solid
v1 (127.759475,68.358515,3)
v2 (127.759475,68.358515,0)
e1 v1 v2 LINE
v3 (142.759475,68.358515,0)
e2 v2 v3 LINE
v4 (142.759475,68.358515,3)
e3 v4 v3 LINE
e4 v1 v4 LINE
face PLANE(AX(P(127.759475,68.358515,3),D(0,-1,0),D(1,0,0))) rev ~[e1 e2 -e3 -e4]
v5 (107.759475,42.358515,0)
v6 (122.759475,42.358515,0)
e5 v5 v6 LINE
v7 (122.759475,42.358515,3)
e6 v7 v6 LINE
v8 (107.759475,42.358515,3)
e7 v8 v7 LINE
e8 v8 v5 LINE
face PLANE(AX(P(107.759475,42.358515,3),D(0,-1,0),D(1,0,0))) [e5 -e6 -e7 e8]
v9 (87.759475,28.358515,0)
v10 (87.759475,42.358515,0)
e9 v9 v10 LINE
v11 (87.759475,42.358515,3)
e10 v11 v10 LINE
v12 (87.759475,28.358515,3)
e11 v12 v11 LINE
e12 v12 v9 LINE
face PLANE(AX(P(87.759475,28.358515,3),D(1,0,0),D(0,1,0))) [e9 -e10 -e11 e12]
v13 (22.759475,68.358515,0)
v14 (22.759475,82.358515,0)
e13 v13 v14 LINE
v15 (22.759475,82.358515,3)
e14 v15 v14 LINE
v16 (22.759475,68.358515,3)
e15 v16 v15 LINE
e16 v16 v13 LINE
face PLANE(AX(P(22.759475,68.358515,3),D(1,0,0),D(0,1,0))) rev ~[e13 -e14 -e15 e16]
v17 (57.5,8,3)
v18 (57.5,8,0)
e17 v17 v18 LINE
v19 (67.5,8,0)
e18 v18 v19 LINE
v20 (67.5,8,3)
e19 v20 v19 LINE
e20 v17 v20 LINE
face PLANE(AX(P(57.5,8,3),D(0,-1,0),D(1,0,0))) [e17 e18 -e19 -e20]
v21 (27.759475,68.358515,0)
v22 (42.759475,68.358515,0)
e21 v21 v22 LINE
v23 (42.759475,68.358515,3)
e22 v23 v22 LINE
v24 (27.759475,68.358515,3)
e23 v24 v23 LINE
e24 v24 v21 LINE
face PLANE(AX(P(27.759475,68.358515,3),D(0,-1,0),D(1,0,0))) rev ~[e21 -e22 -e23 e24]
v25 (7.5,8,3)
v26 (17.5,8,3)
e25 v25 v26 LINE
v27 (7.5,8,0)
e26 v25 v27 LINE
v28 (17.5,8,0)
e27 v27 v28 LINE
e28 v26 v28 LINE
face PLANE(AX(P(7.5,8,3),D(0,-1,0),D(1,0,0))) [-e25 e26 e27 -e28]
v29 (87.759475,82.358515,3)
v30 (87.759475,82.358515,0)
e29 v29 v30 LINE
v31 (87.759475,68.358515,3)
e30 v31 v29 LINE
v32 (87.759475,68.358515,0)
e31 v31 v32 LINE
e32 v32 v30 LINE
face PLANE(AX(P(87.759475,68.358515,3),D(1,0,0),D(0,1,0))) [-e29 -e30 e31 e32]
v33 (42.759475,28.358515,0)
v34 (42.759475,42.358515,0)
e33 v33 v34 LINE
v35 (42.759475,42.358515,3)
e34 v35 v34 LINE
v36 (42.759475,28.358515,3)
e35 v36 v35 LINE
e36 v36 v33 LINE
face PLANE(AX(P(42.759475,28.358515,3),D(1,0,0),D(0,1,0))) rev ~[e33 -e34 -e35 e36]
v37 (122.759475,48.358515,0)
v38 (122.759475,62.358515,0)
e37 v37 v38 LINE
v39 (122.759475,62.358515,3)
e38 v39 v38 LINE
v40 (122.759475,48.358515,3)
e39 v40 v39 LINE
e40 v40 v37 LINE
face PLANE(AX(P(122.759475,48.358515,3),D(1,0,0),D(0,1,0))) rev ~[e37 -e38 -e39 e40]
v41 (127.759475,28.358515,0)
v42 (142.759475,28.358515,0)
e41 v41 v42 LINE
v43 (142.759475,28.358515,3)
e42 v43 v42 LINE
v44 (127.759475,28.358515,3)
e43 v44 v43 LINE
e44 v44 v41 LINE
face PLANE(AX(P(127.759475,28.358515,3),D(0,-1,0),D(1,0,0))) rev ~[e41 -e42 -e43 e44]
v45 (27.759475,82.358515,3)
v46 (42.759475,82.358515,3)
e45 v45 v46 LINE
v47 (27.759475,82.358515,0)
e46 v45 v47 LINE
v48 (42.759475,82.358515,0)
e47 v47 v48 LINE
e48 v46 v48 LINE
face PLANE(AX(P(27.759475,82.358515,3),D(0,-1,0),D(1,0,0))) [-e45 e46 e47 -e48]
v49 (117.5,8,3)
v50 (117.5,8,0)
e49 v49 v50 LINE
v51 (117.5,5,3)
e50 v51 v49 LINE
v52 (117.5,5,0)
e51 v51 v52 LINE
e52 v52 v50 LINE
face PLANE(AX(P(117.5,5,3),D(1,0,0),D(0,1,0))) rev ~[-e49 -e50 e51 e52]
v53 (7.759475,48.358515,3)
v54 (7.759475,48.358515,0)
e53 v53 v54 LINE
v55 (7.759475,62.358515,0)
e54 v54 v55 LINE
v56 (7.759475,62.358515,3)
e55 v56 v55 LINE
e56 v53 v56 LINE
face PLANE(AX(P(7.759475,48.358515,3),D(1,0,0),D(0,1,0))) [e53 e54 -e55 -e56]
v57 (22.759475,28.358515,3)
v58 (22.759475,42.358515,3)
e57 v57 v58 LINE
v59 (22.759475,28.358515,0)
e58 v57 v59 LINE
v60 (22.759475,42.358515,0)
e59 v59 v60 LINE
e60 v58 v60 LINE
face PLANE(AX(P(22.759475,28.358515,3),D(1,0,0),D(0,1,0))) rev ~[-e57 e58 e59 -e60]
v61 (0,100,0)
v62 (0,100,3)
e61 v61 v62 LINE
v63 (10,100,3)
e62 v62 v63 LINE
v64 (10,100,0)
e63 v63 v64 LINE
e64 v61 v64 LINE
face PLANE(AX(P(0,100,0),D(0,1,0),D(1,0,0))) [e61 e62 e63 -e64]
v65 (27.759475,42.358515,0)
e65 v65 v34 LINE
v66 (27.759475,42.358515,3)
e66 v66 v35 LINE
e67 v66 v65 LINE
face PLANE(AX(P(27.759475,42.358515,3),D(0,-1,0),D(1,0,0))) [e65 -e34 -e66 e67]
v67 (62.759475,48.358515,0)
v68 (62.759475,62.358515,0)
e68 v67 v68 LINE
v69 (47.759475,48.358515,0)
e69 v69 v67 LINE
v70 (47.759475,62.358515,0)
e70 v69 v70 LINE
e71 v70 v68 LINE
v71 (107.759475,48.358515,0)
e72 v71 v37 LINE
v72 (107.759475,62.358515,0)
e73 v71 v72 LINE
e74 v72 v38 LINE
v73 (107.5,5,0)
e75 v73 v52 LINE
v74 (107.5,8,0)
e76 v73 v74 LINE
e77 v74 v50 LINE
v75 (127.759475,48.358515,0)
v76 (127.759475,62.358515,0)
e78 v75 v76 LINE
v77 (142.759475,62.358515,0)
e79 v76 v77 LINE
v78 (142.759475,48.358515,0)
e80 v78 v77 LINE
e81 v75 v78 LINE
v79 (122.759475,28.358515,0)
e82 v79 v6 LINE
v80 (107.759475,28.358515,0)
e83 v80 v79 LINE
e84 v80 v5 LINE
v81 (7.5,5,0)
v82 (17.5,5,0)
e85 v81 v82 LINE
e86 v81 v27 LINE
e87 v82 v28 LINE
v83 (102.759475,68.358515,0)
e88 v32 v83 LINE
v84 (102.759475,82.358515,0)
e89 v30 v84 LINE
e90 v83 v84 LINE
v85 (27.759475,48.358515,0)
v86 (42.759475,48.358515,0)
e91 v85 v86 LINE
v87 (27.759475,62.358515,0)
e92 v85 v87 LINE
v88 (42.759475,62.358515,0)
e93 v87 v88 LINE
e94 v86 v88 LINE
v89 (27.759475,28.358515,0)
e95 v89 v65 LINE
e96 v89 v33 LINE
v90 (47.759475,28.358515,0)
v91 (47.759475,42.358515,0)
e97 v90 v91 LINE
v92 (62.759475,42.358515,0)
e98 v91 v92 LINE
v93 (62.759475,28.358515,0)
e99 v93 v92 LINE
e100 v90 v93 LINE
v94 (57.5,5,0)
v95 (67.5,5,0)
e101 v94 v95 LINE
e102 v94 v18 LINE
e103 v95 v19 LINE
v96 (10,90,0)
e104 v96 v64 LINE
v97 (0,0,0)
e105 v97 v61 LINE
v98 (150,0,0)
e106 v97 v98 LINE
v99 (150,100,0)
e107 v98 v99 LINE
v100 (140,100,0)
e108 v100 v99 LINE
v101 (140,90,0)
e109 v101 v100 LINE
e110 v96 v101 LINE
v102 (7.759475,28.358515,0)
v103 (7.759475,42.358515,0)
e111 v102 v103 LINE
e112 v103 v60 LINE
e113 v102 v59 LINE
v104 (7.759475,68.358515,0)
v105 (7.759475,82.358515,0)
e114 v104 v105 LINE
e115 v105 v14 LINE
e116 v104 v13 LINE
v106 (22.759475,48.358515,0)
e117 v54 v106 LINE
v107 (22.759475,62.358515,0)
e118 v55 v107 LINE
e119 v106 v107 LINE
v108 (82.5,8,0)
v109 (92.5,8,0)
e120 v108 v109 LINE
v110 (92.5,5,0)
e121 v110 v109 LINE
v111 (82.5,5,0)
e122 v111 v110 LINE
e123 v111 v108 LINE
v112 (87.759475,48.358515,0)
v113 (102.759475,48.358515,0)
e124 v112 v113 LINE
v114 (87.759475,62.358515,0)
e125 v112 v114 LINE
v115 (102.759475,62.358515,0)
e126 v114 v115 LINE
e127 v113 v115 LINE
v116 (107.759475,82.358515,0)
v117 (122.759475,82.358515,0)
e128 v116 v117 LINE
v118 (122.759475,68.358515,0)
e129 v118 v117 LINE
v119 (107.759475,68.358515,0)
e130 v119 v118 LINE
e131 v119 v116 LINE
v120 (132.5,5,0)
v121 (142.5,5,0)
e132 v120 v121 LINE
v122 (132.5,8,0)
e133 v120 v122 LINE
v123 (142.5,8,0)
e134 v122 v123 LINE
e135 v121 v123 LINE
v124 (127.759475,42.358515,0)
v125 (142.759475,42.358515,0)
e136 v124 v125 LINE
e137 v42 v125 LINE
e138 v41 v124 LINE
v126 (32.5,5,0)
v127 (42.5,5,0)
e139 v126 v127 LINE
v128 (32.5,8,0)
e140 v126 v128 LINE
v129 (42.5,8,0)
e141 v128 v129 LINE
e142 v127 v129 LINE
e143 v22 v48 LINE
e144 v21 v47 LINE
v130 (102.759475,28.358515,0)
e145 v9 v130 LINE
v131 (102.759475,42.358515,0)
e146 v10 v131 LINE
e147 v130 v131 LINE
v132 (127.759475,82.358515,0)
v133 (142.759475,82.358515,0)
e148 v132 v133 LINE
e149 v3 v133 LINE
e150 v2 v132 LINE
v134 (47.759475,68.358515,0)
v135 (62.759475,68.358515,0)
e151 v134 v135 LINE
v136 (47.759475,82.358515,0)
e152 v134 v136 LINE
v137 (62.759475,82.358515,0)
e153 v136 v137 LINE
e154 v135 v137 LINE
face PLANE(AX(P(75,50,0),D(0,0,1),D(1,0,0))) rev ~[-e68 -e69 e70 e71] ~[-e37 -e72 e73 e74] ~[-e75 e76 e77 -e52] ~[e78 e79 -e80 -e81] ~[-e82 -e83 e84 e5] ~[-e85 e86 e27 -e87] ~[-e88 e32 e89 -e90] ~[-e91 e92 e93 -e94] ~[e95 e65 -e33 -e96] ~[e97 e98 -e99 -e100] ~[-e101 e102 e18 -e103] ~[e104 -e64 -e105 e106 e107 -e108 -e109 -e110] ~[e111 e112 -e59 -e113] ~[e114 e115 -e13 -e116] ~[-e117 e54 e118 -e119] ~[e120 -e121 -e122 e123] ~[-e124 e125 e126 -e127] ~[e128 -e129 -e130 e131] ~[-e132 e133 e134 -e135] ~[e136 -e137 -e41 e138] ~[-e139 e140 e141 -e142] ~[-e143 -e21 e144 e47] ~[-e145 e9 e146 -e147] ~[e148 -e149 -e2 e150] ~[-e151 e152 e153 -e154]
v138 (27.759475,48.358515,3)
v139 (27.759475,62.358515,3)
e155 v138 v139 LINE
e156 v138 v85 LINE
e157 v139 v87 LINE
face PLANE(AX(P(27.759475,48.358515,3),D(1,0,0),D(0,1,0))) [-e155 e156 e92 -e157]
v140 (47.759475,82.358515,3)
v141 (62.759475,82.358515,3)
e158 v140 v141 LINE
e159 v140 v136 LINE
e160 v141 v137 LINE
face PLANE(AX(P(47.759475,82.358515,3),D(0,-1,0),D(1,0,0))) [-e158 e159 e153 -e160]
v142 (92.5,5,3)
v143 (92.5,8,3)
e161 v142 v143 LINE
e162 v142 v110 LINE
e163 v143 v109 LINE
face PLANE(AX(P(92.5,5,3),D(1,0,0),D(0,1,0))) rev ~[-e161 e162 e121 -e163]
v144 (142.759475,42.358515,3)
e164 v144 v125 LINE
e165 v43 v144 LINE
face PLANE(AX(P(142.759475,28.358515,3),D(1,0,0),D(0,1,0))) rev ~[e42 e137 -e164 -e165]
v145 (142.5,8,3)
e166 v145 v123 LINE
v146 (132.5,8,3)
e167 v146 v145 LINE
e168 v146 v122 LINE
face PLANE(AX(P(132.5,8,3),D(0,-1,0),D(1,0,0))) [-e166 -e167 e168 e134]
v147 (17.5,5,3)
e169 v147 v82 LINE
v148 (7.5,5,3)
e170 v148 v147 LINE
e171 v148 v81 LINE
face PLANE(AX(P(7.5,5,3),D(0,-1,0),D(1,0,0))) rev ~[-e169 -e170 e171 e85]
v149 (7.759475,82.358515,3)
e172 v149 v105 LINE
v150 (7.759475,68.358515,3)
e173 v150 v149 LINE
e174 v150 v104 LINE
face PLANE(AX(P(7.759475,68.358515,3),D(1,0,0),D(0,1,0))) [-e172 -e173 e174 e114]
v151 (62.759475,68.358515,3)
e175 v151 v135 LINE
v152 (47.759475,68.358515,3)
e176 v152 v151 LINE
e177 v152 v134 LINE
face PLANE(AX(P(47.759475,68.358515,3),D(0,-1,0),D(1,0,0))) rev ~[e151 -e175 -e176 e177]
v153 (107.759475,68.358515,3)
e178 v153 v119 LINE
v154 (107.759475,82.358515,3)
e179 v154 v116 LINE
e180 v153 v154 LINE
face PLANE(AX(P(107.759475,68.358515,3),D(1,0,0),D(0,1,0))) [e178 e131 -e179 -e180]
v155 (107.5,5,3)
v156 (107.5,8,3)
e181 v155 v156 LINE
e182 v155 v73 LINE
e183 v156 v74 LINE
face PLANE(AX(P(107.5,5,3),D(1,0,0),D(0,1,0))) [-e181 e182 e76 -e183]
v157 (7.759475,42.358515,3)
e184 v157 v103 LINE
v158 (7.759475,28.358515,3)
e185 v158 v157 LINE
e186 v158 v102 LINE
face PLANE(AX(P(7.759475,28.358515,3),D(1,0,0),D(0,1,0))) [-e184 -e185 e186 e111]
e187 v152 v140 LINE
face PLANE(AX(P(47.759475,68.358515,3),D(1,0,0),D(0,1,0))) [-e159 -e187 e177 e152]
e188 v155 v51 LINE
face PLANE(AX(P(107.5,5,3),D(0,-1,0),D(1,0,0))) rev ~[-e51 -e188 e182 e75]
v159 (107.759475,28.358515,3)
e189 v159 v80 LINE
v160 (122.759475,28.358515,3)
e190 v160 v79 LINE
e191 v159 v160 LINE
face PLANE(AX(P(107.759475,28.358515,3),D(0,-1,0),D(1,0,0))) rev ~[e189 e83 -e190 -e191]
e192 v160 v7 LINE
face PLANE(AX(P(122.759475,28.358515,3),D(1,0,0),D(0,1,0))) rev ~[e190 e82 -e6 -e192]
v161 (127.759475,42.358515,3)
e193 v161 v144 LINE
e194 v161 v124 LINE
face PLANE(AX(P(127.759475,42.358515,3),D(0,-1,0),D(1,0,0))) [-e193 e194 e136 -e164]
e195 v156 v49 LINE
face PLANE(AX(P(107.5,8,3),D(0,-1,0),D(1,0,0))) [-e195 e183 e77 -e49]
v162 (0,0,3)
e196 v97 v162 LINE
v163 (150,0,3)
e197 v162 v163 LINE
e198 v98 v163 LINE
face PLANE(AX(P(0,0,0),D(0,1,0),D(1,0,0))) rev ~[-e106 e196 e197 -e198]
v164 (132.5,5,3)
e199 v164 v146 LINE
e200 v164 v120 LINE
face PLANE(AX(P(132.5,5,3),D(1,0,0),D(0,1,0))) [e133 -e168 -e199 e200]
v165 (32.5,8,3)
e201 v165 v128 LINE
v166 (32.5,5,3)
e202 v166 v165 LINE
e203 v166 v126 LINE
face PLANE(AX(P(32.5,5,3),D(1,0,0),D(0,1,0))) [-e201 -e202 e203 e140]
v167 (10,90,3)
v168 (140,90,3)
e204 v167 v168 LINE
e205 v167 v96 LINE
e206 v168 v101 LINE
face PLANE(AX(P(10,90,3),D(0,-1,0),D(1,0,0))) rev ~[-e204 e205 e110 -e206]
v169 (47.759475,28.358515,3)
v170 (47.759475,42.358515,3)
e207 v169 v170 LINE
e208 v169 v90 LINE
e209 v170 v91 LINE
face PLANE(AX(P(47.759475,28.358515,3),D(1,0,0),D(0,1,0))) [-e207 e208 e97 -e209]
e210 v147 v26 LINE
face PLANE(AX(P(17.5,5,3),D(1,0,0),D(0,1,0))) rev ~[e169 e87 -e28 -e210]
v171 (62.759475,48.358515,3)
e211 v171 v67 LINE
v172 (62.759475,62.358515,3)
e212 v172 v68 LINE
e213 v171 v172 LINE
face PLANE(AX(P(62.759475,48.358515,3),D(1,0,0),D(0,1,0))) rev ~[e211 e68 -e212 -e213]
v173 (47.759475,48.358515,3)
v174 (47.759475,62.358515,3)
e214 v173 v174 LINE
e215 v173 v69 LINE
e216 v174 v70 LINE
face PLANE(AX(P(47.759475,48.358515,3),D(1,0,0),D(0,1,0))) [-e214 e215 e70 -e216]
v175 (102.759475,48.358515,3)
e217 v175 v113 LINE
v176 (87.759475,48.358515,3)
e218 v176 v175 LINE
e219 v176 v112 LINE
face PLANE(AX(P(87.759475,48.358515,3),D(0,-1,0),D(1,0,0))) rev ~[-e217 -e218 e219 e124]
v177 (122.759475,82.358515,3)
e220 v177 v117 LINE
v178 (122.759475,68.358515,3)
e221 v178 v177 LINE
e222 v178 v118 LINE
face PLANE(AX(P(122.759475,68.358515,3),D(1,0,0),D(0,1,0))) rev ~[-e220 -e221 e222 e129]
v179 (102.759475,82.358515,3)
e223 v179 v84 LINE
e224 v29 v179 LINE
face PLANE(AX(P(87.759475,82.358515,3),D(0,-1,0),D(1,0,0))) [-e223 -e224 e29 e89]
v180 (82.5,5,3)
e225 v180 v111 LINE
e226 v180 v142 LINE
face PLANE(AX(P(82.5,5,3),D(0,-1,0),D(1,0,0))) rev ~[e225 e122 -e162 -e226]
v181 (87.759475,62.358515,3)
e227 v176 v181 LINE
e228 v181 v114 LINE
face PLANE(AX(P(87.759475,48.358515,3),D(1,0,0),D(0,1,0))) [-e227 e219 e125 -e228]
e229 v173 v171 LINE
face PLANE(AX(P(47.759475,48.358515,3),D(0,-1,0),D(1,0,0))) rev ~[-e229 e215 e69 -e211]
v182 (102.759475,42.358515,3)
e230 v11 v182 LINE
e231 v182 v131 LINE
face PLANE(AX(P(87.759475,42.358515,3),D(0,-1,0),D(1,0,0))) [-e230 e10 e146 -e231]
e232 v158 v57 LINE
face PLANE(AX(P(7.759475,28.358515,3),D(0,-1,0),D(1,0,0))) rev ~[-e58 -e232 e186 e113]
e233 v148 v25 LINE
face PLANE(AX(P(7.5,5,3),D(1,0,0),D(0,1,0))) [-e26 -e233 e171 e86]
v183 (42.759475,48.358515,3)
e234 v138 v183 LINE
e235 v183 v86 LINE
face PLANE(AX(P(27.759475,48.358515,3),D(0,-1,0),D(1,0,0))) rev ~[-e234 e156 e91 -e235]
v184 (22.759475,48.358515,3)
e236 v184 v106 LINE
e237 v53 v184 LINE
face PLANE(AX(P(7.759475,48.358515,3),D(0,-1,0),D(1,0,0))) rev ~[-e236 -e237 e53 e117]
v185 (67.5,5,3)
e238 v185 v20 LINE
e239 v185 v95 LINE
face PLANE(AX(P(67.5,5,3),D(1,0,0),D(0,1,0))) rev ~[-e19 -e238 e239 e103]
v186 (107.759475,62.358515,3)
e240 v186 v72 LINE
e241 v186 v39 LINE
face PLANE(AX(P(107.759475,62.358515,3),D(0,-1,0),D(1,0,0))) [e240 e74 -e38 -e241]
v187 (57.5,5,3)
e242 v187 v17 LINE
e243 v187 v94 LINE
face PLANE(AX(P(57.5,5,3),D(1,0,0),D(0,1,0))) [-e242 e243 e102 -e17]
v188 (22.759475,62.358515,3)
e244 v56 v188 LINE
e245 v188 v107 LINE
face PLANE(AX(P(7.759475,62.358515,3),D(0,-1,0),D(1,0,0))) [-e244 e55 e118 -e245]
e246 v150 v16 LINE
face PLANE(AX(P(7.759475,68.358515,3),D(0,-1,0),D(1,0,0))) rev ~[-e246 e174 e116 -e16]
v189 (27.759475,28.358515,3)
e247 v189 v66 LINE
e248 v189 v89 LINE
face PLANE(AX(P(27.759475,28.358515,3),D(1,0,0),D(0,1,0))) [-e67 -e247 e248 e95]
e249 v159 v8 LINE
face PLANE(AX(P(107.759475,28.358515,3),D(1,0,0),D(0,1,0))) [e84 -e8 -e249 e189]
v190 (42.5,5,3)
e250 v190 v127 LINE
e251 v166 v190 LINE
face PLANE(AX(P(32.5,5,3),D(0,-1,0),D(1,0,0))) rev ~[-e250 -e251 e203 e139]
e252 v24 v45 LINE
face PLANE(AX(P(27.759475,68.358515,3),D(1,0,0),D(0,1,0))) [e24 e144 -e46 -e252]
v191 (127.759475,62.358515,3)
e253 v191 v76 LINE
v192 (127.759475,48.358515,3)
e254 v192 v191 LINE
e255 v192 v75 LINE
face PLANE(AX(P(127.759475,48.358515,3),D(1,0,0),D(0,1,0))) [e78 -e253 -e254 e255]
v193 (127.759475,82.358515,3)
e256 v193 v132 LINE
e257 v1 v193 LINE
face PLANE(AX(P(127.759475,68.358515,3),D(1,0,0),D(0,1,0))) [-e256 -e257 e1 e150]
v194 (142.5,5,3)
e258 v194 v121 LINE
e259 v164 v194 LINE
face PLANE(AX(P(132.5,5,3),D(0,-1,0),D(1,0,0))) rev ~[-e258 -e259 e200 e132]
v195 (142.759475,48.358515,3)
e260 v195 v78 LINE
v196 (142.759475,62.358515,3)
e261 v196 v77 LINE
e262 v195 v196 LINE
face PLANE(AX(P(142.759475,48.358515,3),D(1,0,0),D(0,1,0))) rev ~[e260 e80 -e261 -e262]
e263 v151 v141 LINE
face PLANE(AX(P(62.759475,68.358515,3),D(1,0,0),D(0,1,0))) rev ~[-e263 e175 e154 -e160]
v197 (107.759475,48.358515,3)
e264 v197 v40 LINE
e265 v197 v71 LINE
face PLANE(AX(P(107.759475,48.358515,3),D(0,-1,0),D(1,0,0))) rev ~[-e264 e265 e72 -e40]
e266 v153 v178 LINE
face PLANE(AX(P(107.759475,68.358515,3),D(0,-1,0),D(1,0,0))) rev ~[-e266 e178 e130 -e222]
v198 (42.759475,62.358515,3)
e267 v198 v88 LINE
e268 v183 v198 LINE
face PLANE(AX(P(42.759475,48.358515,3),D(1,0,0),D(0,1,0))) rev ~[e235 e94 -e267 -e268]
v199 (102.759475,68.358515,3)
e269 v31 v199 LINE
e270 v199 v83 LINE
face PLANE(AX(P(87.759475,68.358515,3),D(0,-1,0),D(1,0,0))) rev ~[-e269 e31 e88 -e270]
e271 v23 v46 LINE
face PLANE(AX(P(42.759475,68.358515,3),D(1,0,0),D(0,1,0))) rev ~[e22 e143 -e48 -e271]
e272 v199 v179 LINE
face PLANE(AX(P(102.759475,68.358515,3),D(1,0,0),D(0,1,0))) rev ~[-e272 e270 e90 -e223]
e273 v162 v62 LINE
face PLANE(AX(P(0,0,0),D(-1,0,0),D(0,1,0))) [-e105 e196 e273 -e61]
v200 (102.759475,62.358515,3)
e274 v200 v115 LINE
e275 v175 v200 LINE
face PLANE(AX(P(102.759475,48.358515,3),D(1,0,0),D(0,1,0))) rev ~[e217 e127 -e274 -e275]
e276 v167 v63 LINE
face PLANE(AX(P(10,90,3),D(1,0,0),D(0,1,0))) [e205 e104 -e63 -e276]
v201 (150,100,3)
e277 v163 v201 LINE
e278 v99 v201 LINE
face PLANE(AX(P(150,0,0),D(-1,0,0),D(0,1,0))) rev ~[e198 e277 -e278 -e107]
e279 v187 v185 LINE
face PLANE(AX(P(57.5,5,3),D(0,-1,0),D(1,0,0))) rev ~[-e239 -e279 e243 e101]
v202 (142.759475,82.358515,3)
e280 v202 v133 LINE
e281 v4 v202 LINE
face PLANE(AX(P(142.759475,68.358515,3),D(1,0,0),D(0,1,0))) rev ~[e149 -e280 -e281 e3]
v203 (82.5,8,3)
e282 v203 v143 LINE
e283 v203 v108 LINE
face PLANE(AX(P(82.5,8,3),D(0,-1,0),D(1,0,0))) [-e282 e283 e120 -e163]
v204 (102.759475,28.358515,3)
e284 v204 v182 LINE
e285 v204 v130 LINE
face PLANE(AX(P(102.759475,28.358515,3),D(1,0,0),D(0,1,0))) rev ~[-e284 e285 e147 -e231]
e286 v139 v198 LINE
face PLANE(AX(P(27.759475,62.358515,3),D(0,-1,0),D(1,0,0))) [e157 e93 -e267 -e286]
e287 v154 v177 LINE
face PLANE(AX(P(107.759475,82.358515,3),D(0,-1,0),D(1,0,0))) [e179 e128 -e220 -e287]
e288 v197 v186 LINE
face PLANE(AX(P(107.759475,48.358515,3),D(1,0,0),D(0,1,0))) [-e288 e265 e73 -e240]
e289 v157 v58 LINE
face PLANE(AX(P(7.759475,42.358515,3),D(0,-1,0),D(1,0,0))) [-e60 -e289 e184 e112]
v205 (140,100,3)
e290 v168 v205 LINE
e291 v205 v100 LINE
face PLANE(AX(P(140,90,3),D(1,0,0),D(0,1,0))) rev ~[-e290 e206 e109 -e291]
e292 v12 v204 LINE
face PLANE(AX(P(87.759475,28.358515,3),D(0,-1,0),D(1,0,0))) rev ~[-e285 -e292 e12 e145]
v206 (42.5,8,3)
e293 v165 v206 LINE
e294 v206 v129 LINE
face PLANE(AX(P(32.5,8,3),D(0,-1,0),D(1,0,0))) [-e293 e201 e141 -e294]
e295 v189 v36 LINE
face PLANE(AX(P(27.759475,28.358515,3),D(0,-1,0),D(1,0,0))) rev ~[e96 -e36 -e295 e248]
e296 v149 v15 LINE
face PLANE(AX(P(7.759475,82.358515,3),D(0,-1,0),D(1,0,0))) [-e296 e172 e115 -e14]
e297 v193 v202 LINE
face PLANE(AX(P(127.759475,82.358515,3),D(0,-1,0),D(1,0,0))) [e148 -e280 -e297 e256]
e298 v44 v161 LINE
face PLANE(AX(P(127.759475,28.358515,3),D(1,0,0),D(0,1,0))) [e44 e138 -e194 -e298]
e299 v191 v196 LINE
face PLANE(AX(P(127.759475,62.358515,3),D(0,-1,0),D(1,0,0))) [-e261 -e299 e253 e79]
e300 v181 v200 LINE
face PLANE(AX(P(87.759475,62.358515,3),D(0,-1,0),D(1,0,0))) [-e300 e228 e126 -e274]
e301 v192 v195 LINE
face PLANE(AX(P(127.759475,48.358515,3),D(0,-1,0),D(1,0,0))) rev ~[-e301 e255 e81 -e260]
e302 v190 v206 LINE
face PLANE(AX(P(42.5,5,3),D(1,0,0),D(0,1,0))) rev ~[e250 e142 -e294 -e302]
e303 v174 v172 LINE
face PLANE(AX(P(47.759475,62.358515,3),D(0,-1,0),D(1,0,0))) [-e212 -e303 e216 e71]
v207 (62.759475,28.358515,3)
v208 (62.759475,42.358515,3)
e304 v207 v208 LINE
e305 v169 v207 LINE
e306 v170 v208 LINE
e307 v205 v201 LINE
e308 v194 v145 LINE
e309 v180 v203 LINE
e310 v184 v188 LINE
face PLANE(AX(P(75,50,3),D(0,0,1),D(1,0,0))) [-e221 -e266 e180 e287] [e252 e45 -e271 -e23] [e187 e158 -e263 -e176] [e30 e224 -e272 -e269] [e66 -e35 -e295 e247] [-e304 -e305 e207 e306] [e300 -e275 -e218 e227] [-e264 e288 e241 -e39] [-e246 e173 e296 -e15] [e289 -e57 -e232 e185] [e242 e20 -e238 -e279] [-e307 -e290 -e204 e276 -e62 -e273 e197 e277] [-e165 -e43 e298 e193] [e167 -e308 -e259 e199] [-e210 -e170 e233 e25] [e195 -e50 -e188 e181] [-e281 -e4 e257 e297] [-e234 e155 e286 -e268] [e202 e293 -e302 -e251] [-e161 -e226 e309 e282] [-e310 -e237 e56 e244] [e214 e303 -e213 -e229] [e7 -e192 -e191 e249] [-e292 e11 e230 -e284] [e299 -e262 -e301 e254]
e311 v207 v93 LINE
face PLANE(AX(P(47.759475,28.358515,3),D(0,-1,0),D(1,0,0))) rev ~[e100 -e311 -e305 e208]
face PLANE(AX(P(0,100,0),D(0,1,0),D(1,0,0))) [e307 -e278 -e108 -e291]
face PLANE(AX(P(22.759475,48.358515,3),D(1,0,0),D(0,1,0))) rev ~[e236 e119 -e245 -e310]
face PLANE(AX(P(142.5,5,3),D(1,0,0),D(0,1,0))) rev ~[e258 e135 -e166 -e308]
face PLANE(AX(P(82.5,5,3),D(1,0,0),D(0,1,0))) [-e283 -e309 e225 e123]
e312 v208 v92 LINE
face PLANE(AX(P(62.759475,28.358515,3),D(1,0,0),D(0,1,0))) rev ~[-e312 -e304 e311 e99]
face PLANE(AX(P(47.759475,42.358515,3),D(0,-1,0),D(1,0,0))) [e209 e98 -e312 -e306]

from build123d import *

# Parameters (mm, degrees)
ESQUISSE1_W             = 150
ESQUISSE1_H             = 100
BOSS_EXTRU_1_DEPTH      = 3
ESQUISSE3_W             = 130
ESQUISSE3_H             = 10
ENL_V_MAT_EXTRU_1_DEPTH = 3
ESQUISSE12_W            = 10
ESQUISSE12_H            = 3
ENL_V_MAT_EXTRU_3_DEPTH = 10
ESQUISSE13_W            = 15
ESQUISSE13_H            = 14
ENL_V_MAT_EXTRU_4_DEPTH = 10


with BuildPart() as part:
    # Esquisse1 → Boss.-Extru.1 (new body)
    with BuildSketch(Plane.XY):
        with Locations((75, 50)):
            Rectangle(ESQUISSE1_W, ESQUISSE1_H)
    extrude(amount=BOSS_EXTRU_1_DEPTH)

    # Esquisse3 → Enlèv. mat.-Extru.1 (cut)
    with BuildSketch(Plane.XY.offset(3)):
        with Locations((75, 95)):
            Rectangle(ESQUISSE3_W, ESQUISSE3_H)
    extrude(amount=-ENL_V_MAT_EXTRU_1_DEPTH, mode=Mode.SUBTRACT)

    # Esquisse12 → Enlèv. mat.-Extru.3 (cut)
    with BuildSketch(Plane.XY.offset(3)):
        with Locations((12.5, 6.5)):
            Rectangle(ESQUISSE12_W, ESQUISSE12_H)
        with Locations((37.5, 6.5)):
            Rectangle(ESQUISSE12_W, ESQUISSE12_H)
        with Locations((62.5, 6.5)):
            Rectangle(ESQUISSE12_W, ESQUISSE12_H)
        with Locations((87.5, 6.5)):
            Rectangle(ESQUISSE12_W, ESQUISSE12_H)
        with Locations((112.5, 6.5)):
            Rectangle(ESQUISSE12_W, ESQUISSE12_H)
        with Locations((137.5, 6.5)):
            Rectangle(ESQUISSE12_W, ESQUISSE12_H)
    extrude(amount=-ENL_V_MAT_EXTRU_3_DEPTH, mode=Mode.SUBTRACT)

    # Esquisse13 → Enlèv. mat.-Extru.4 (cut)
    with BuildSketch(Plane.XY.offset(3)):
        with Locations((35.259475166, 75.358514873)):
            Rectangle(ESQUISSE13_W, ESQUISSE13_H)
        with Locations((15.259475166, 75.358514873)):
            Rectangle(ESQUISSE13_W, ESQUISSE13_H)
        with Locations((55.259475166, 75.358514873)):
            Rectangle(ESQUISSE13_W, ESQUISSE13_H)
        with Locations((95.259475166, 75.358514873)):
            Rectangle(ESQUISSE13_W, ESQUISSE13_H)
        with Locations((115.259475166, 75.358514873)):
            Rectangle(ESQUISSE13_W, ESQUISSE13_H)
        with Locations((135.259475166, 75.358514873)):
            Rectangle(ESQUISSE13_W, ESQUISSE13_H)
        with Locations((15.259475166, 55.358514873)):
            Rectangle(ESQUISSE13_W, ESQUISSE13_H)
        with Locations((35.259475166, 55.358514873)):
            Rectangle(ESQUISSE13_W, ESQUISSE13_H)
        with Locations((55.259475166, 55.358514873)):
            Rectangle(ESQUISSE13_W, ESQUISSE13_H)
        with Locations((95.259475166, 55.358514873)):
            Rectangle(ESQUISSE13_W, ESQUISSE13_H)
        with Locations((115.259475166, 55.358514873)):
            Rectangle(ESQUISSE13_W, ESQUISSE13_H)
        with Locations((135.259475166, 55.358514873)):
            Rectangle(ESQUISSE13_W, ESQUISSE13_H)
        with Locations((15.259475166, 35.358514873)):
            Rectangle(ESQUISSE13_W, ESQUISSE13_H)
        with Locations((35.259475166, 35.358514873)):
            Rectangle(ESQUISSE13_W, ESQUISSE13_H)
        with Locations((55.259475166, 35.358514873)):
            Rectangle(ESQUISSE13_W, ESQUISSE13_H)
        with Locations((95.259475166, 35.358514873)):
            Rectangle(ESQUISSE13_W, ESQUISSE13_H)
        with Locations((115.259475166, 35.358514873)):
            Rectangle(ESQUISSE13_W, ESQUISSE13_H)
        with Locations((135.259475166, 35.358514873)):
            Rectangle(ESQUISSE13_W, ESQUISSE13_H)
    extrude(amount=-ENL_V_MAT_EXTRU_4_DEPTH, mode=Mode.SUBTRACT)


solid = part.part
